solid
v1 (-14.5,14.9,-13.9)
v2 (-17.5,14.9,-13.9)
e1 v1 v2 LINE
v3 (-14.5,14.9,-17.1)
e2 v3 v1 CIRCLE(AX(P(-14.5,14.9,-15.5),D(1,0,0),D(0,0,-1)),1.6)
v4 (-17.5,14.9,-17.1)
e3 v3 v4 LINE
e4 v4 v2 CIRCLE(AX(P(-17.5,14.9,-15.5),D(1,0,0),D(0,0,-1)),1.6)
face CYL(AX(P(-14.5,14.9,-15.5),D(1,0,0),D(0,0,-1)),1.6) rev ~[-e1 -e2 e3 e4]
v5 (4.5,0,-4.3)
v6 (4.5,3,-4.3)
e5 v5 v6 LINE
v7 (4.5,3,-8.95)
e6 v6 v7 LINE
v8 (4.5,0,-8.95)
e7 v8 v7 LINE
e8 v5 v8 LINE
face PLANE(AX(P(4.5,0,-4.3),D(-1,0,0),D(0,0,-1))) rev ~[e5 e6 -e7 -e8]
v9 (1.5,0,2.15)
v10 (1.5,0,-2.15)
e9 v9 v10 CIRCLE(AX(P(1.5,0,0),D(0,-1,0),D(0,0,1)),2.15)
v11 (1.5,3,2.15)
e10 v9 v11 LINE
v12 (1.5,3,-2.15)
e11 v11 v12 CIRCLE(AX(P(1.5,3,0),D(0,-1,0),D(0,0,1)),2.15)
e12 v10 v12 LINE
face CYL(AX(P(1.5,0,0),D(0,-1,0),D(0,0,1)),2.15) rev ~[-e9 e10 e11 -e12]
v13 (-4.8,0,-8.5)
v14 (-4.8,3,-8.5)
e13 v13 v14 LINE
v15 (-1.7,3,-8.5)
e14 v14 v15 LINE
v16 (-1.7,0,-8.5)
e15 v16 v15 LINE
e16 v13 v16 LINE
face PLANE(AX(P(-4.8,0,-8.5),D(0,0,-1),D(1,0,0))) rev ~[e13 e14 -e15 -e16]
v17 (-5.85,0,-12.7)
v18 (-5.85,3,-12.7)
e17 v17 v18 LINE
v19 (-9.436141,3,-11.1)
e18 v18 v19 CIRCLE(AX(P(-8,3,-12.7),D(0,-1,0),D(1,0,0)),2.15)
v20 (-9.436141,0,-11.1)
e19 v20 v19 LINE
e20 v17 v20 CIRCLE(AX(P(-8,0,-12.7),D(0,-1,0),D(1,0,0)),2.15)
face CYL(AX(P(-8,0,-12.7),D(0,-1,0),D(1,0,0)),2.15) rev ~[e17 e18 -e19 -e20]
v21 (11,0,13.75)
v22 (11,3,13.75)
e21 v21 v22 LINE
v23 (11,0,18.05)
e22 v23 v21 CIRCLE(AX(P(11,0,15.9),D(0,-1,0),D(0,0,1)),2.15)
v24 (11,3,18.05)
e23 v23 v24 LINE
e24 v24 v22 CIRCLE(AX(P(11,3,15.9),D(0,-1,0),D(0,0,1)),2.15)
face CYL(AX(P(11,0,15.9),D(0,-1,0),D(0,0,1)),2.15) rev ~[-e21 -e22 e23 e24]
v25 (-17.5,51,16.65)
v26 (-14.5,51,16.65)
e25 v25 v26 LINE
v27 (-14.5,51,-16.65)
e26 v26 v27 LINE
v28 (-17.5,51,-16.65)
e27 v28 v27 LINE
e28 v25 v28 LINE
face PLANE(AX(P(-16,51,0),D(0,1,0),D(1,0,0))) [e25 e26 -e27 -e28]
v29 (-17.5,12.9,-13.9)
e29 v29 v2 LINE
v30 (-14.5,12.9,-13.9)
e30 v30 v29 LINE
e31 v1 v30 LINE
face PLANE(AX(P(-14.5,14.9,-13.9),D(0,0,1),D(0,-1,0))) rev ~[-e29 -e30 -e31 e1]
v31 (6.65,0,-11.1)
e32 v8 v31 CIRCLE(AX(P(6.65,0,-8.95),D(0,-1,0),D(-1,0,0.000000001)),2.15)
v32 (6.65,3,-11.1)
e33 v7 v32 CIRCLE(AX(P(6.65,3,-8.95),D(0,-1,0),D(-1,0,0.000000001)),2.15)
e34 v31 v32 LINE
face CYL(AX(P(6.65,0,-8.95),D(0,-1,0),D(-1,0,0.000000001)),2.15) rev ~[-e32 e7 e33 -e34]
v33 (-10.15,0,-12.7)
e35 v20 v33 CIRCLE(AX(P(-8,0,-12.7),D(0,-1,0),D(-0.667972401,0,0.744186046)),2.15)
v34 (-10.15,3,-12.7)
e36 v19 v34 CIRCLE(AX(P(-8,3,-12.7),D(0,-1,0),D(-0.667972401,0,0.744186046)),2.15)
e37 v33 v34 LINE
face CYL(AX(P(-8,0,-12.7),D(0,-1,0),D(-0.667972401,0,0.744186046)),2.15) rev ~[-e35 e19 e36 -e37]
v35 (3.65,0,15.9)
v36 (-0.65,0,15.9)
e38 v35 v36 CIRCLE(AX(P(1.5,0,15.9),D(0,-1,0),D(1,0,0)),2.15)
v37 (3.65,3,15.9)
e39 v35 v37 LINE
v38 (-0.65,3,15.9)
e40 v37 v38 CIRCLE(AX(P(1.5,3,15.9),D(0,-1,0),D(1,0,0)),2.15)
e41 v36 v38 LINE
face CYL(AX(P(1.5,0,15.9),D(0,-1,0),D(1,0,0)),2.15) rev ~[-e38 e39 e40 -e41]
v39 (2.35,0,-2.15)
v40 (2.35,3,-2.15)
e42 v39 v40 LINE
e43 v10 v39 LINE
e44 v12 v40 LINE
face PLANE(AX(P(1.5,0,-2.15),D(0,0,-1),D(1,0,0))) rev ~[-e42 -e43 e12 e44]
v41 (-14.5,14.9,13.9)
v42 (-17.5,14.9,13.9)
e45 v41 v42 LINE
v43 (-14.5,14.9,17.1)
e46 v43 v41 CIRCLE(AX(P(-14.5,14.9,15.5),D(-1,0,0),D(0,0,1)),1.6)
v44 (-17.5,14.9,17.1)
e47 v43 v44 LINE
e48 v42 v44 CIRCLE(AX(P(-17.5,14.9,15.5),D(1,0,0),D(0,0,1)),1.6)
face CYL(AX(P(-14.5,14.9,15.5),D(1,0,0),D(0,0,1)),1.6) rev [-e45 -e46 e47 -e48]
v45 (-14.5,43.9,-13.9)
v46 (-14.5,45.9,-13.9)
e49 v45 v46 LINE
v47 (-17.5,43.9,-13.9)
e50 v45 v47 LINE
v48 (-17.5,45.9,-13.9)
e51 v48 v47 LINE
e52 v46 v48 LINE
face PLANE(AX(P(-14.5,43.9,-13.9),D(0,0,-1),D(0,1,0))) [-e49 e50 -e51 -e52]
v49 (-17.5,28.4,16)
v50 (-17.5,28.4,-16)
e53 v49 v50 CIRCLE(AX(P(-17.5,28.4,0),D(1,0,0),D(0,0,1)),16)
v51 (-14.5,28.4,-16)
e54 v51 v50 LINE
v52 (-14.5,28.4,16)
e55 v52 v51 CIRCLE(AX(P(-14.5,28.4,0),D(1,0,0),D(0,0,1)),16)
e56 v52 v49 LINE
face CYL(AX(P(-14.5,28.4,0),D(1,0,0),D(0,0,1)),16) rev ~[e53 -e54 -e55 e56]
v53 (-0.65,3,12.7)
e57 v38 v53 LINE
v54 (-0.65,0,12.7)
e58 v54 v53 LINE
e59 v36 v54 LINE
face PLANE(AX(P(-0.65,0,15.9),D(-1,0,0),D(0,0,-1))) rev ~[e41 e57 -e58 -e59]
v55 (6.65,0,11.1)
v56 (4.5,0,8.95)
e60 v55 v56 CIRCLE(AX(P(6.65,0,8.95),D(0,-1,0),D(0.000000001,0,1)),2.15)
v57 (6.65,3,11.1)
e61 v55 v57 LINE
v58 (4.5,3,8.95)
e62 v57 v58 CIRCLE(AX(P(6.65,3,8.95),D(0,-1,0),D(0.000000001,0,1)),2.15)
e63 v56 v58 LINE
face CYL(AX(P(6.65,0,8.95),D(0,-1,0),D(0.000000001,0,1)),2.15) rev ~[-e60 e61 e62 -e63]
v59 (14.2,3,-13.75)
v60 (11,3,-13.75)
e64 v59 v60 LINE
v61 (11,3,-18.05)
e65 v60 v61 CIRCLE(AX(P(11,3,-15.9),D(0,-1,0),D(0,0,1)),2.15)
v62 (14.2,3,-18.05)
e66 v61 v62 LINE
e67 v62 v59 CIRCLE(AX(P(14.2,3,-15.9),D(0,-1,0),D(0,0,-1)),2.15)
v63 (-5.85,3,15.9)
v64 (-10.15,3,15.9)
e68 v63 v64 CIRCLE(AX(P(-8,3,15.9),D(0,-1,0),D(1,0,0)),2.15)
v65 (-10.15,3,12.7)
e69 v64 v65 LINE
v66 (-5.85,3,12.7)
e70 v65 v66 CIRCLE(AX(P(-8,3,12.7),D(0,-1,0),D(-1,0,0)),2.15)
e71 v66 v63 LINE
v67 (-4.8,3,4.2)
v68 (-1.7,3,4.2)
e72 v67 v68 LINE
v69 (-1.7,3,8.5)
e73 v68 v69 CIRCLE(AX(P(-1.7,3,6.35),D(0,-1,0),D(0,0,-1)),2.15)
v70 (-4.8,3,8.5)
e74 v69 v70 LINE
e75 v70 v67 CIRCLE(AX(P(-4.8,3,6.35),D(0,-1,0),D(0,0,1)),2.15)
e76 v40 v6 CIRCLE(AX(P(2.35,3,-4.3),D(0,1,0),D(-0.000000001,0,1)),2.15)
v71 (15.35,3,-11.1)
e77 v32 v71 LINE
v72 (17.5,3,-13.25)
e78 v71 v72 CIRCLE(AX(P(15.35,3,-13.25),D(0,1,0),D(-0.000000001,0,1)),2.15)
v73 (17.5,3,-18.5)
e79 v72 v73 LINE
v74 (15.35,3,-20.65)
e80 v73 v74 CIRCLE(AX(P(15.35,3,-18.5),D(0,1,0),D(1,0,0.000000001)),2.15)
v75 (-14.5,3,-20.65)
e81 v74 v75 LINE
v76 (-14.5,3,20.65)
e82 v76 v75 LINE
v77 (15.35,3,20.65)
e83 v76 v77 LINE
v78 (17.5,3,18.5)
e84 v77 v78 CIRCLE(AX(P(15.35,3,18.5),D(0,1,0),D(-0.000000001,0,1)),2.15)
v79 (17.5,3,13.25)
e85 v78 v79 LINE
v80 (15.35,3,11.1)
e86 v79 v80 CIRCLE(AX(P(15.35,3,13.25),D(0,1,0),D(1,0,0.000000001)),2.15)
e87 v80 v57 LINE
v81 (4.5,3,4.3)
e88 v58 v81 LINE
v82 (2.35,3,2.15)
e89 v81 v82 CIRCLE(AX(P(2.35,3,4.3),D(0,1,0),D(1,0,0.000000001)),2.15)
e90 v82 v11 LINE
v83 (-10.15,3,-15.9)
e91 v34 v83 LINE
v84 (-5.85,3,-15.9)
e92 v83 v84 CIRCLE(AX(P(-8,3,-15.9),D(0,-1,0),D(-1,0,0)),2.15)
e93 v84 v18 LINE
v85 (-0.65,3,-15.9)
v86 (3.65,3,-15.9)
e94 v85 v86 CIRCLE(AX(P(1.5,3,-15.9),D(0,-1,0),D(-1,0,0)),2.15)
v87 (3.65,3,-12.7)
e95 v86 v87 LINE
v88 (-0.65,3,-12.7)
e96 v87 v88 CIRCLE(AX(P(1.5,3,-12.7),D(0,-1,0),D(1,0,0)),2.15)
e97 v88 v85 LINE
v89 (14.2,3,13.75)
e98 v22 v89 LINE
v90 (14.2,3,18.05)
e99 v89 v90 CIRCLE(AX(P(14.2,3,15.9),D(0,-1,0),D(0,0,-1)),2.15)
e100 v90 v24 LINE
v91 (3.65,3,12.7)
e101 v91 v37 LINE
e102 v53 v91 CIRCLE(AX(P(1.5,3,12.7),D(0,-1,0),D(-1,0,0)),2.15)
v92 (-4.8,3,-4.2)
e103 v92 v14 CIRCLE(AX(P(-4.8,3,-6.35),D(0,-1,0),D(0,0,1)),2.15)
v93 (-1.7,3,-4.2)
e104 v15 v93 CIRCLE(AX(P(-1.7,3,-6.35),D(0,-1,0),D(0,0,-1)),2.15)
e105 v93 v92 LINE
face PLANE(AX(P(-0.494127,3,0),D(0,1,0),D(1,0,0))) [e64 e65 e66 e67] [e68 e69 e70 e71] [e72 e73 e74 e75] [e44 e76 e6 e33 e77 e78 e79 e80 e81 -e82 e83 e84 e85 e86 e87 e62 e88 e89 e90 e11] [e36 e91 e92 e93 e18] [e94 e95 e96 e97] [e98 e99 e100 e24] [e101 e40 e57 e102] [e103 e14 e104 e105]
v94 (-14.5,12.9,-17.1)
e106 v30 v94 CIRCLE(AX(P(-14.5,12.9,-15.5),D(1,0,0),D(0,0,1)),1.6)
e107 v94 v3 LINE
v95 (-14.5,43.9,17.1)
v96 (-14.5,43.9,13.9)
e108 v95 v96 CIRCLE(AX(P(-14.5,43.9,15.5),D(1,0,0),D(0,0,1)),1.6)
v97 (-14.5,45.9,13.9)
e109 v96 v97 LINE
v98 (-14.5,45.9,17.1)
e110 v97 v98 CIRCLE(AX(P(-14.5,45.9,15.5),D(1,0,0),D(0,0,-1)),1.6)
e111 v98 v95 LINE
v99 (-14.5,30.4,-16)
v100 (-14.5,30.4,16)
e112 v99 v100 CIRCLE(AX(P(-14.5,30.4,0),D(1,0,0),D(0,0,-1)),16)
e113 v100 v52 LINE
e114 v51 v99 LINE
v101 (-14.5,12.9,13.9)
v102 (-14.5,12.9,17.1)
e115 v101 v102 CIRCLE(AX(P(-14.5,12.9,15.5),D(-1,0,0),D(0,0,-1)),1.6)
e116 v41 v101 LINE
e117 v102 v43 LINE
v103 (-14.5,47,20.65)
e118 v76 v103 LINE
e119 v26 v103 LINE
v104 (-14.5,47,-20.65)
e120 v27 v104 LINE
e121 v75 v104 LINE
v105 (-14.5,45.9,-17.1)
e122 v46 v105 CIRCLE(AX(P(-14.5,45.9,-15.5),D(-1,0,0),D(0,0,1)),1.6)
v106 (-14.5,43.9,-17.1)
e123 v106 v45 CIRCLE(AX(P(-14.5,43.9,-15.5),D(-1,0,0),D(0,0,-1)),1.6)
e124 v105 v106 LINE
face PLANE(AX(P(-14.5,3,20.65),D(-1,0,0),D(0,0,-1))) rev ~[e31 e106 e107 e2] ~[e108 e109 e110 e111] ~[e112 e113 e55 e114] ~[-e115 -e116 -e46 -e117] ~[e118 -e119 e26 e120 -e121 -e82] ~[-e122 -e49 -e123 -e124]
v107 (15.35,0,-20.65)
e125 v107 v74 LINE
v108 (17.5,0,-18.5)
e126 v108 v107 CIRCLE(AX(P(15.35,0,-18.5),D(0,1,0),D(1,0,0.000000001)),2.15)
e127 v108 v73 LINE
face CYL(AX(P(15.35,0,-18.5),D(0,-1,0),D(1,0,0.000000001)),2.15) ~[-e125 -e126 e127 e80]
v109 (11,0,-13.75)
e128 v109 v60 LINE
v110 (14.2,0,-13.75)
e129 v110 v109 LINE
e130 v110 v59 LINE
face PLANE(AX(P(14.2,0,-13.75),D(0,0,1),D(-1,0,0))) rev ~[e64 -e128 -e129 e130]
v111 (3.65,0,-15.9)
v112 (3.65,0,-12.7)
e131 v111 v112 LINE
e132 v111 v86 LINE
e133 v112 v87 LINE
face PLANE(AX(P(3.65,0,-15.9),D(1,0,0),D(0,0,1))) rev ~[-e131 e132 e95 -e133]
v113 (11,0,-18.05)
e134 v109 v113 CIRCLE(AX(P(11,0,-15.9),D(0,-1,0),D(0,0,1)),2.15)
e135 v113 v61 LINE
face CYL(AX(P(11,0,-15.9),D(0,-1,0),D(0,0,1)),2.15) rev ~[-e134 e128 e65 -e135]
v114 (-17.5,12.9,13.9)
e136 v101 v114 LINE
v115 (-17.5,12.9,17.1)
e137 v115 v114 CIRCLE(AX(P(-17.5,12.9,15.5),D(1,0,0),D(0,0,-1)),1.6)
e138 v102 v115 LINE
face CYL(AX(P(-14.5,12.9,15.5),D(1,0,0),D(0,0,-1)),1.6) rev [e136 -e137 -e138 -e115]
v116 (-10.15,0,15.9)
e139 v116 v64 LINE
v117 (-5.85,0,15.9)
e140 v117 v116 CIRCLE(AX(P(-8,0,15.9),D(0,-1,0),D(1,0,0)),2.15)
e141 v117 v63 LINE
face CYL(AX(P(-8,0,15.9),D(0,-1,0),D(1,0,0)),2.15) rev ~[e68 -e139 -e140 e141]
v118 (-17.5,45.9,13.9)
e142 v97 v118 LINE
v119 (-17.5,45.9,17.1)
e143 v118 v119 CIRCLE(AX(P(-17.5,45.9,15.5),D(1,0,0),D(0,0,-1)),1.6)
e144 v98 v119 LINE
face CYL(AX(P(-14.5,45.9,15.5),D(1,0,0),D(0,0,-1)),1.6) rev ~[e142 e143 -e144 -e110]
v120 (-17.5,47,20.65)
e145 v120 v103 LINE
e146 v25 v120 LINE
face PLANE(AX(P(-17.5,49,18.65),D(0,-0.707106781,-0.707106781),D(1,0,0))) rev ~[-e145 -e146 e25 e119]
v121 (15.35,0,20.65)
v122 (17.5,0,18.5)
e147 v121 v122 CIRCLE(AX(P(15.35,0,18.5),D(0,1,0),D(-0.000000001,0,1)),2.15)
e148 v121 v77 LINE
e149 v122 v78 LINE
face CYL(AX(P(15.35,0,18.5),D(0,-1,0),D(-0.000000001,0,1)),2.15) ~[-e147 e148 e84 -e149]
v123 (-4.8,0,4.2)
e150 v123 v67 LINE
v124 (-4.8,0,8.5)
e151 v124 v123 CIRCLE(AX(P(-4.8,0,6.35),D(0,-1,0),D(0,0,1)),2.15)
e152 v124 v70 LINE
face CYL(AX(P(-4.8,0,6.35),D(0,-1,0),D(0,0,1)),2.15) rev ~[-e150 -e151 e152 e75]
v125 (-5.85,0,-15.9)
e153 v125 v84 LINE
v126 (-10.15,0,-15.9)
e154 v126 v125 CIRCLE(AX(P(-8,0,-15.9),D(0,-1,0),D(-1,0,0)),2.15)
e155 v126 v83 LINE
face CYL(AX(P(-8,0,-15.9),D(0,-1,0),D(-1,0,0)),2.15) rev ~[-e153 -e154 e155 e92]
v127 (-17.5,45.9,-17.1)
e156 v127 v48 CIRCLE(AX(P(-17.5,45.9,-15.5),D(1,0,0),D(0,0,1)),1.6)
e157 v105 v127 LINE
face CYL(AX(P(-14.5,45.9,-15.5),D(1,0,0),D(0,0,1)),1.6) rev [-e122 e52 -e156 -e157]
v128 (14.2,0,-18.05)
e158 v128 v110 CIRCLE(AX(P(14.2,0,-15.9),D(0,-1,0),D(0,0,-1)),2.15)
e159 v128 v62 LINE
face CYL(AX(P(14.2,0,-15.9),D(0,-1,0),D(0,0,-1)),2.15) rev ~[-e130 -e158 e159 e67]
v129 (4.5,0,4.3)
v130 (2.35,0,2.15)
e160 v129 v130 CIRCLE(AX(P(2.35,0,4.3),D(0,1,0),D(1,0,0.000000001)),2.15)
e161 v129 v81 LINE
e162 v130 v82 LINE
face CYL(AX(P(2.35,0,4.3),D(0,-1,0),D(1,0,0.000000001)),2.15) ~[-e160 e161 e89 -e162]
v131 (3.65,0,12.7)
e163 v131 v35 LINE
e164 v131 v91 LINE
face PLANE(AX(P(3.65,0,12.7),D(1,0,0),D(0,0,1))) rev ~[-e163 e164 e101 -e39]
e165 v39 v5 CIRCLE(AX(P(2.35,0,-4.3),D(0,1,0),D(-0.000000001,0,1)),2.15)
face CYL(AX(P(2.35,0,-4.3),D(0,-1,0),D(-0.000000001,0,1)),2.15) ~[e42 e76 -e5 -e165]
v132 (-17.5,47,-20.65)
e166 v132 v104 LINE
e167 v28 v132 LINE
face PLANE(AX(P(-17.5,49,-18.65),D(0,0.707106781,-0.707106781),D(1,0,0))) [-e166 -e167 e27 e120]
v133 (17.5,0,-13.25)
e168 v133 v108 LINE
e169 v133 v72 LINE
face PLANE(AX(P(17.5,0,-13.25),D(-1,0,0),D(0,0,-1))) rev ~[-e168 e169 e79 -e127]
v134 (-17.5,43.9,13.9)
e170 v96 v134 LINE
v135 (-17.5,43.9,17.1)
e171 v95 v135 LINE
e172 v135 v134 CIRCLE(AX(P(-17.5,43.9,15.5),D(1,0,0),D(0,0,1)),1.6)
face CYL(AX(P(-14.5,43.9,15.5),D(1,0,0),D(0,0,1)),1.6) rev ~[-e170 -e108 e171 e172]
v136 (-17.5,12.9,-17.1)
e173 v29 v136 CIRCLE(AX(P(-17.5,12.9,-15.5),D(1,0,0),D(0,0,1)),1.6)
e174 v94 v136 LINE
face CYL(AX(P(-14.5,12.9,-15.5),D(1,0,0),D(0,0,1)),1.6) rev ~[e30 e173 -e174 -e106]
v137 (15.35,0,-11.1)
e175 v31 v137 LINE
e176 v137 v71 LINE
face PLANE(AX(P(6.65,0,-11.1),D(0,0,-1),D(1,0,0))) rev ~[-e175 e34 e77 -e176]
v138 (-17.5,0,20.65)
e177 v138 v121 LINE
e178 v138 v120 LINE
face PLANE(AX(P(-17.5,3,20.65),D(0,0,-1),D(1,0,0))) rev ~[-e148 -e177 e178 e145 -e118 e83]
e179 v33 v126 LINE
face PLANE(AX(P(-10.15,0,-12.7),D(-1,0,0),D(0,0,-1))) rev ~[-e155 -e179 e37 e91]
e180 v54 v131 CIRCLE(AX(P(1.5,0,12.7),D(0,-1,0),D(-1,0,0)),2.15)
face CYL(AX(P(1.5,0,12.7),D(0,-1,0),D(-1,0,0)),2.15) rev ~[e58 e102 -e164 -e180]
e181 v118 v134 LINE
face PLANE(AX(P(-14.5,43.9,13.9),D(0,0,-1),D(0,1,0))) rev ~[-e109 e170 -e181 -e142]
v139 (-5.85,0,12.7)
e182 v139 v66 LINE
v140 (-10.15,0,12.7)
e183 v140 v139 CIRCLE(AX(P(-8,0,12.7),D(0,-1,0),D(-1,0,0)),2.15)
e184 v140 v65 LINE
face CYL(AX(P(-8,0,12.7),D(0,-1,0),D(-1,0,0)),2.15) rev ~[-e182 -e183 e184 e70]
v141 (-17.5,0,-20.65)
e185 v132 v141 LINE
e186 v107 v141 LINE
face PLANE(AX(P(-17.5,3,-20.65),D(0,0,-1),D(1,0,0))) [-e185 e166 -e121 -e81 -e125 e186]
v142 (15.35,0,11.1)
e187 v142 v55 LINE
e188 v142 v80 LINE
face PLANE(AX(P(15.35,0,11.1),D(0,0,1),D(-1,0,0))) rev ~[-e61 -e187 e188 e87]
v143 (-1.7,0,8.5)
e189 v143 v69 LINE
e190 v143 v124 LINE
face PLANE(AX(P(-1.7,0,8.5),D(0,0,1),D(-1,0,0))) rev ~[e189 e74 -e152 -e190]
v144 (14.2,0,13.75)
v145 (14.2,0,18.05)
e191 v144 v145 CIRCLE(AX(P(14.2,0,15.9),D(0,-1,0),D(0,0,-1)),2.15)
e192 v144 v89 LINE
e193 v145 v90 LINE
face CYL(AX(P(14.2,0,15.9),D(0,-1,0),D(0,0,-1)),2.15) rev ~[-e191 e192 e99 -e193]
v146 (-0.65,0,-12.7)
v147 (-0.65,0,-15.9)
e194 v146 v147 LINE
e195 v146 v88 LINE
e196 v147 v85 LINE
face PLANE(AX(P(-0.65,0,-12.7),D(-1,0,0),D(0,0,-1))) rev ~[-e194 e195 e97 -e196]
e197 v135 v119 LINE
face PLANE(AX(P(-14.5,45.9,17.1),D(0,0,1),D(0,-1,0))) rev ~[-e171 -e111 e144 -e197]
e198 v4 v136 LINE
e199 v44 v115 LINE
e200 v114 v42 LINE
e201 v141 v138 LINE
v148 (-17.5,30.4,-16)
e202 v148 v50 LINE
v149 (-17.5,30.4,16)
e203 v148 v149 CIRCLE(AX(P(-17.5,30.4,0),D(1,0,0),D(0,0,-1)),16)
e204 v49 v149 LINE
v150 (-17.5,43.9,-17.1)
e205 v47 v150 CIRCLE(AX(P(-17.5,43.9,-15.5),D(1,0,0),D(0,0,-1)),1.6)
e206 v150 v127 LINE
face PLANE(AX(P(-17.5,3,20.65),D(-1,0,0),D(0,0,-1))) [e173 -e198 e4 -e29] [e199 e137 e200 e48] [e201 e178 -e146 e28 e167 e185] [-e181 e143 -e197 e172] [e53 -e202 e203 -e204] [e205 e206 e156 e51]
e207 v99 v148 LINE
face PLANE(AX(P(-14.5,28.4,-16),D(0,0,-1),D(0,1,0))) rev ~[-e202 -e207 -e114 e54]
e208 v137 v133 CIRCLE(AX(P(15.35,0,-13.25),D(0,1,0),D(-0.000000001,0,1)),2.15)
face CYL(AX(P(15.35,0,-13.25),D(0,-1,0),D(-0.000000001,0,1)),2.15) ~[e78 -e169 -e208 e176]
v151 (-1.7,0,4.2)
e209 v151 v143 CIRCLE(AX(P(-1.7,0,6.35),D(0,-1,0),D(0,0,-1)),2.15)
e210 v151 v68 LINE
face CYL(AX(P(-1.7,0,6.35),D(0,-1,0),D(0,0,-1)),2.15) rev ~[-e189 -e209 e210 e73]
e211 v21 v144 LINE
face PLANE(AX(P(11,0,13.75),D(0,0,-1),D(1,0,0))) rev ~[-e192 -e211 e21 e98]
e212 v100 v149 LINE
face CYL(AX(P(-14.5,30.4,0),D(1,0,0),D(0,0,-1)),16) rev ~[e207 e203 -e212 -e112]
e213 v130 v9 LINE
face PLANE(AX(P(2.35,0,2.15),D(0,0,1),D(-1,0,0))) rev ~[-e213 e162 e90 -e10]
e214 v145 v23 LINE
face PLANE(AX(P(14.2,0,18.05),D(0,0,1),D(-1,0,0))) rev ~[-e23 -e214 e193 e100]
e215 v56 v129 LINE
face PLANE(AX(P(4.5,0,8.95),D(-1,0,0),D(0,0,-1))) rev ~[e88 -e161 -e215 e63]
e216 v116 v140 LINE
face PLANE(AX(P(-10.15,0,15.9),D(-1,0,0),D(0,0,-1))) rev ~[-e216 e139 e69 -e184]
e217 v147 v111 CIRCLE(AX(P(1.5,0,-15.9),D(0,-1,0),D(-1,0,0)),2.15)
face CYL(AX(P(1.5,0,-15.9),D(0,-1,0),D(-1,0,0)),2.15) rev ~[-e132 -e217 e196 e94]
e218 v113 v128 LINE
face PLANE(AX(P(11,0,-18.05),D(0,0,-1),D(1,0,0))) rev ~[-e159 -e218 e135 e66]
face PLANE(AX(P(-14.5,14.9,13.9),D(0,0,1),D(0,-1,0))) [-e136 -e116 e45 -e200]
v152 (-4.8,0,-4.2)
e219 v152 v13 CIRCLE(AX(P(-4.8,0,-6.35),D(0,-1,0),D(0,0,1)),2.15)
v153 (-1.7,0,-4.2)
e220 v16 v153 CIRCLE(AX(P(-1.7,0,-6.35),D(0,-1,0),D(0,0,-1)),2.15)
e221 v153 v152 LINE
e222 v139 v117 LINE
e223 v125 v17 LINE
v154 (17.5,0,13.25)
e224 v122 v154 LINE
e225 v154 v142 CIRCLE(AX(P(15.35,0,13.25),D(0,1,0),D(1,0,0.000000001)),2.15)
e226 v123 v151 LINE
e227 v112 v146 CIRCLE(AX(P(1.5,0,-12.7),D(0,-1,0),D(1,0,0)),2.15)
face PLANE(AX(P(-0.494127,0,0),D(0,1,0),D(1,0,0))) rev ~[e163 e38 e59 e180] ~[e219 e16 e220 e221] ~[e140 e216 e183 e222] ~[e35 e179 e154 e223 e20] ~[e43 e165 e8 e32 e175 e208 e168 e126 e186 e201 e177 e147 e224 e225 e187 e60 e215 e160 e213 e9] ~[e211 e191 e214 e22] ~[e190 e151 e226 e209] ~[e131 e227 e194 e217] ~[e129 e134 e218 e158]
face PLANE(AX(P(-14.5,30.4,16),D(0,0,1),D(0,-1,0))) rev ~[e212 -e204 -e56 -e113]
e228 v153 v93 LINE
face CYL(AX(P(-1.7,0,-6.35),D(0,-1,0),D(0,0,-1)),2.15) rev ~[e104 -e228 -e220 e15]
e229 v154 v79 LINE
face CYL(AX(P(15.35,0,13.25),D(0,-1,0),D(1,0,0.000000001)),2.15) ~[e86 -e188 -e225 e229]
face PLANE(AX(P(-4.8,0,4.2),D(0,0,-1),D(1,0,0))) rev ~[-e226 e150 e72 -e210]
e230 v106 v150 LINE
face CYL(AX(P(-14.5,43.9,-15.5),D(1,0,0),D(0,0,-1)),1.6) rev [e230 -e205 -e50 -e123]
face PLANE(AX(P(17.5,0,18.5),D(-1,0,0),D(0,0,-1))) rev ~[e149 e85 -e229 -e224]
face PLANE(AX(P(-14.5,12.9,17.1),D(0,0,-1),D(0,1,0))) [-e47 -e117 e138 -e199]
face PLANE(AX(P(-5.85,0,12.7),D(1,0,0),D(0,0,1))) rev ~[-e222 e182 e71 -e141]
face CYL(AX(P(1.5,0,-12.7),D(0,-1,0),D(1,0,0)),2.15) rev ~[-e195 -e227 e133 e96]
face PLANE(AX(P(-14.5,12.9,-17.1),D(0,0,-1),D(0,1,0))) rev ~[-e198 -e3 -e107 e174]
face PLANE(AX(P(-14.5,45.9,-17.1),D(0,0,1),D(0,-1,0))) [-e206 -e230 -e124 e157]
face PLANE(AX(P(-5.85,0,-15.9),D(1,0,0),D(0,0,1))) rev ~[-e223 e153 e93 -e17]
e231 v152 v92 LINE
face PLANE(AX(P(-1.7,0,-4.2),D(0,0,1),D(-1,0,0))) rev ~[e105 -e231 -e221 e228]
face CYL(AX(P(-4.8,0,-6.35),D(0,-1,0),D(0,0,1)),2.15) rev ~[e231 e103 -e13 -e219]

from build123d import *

# Parameters (mm, degrees)
BOSS_EXTRUDE1_DEPTH = 3
SKETCH2_W           = 3
SKETCH2_H           = 41.3
BOSS_EXTRUDE2_DEPTH = 48
CUT_EXTRUDE1_DEPTH  = 48
CHAMFER1_SIZE       = 4


with BuildPart() as part:
    # Sketch1 → Boss-Extrude1 (new body)
    with BuildSketch(Plane(origin=(0, 0, 0), x_dir=(1, 0, 0), z_dir=(0, 1, 0))):
        with BuildLine():
            Line((15.35, 20.65), (-17.5, 20.65))
            Line((-17.5, 20.65), (-17.5, -20.65))
            Line((-17.5, -20.65), (15.35, -20.65))
            ThreePointArc((15.35, -20.65), (16.87027958, -20.02027958), (17.5, -18.5))
            Line((17.5, -18.5), (17.5, -13.25))
            ThreePointArc((17.5, -13.25), (16.87027958, -11.72972042), (15.35, -11.1))
            Line((15.35, -11.1), (6.65, -11.1))
            ThreePointArc((6.65, -11.1), (5.12972042, -10.47027958), (4.5, -8.95))
            Line((4.5, -8.95), (4.5, -4.3))
            ThreePointArc((4.5, -4.3), (3.87027958, -2.77972042), (2.35, -2.15))
            Line((2.35, -2.15), (1.5, -2.15))
            ThreePointArc((1.5, -2.15), (-0.65, 0), (1.5, 2.15))
            Line((1.5, 2.15), (2.35, 2.15))
            ThreePointArc((2.35, 2.15), (3.87027958, 2.77972042), (4.5, 4.3))
            Line((4.5, 4.3), (4.5, 8.95))
            ThreePointArc((4.5, 8.95), (5.12972042, 10.47027958), (6.65, 11.1))
            Line((6.65, 11.1), (15.35, 11.1))
            ThreePointArc((15.35, 11.1), (16.87027958, 11.72972042), (17.5, 13.25))
            Line((17.5, 13.25), (17.5, 18.5))
            ThreePointArc((17.5, 18.5), (16.87027958, 20.02027958), (15.35, 20.65))
        make_face()
        with BuildLine():
            Line((-5.85, -12.7), (-5.85, -15.9))
            ThreePointArc((-5.85, -15.9), (-8, -18.05), (-10.15, -15.9))
            Line((-10.15, -15.9), (-10.15, -12.7))
            ThreePointArc((-10.15, -12.7), (-8, -10.55), (-5.85, -12.7))
        make_face(mode=Mode.SUBTRACT)
        with BuildLine():
            Line((-1.7, -8.5), (-4.8, -8.5))
            ThreePointArc((-4.8, -8.5), (-6.95, -6.35), (-4.8, -4.2))
            Line((-4.8, -4.2), (-1.7, -4.2))
            ThreePointArc((-1.7, -4.2), (0.45, -6.35), (-1.7, -8.5))
        make_face(mode=Mode.SUBTRACT)
        with BuildLine():
            Line((3.65, -12.7), (3.65, -15.9))
            ThreePointArc((3.65, -15.9), (1.5, -18.05), (-0.65, -15.9))
            Line((-0.65, -15.9), (-0.65, -12.7))
            ThreePointArc((-0.65, -12.7), (1.5, -10.55), (3.65, -12.7))
        make_face(mode=Mode.SUBTRACT)
        with BuildLine():
            Line((14.2, -18.05), (11, -18.05))
            ThreePointArc((11, -18.05), (8.85, -15.9), (11, -13.75))
            Line((11, -13.75), (14.2, -13.75))
            ThreePointArc((14.2, -13.75), (16.35, -15.9), (14.2, -18.05))
        make_face(mode=Mode.SUBTRACT)
        with BuildLine():
            ThreePointArc((-4.8, 4.2), (-6.95, 6.35), (-4.8, 8.5))
            Line((-4.8, 8.5), (-1.7, 8.5))
            ThreePointArc((-1.7, 8.5), (0.45, 6.35), (-1.7, 4.2))
            Line((-1.7, 4.2), (-4.8, 4.2))
        make_face(mode=Mode.SUBTRACT)
        with BuildLine():
            ThreePointArc((-10.15, 15.9), (-8, 18.05), (-5.85, 15.9))
            Line((-5.85, 15.9), (-5.85, 12.7))
            ThreePointArc((-5.85, 12.7), (-7.123986993, 10.736558834), (-9.436140662, 11.1))
            ThreePointArc((-9.436140662, 11.1), (-9.963441166, 11.823986993), (-10.15, 12.7))
            Line((-10.15, 12.7), (-10.15, 15.9))
        make_face(mode=Mode.SUBTRACT)
        with BuildLine():
            ThreePointArc((-0.65, 15.9), (1.5, 18.05), (3.65, 15.9))
            Line((3.65, 15.9), (3.65, 12.7))
            ThreePointArc((3.65, 12.7), (1.5, 10.55), (-0.65, 12.7))
            Line((-0.65, 12.7), (-0.65, 15.9))
        make_face(mode=Mode.SUBTRACT)
        with BuildLine():
            ThreePointArc((11, 13.75), (8.85, 15.9), (11, 18.05))
            Line((11, 18.05), (14.2, 18.05))
            ThreePointArc((14.2, 18.05), (16.35, 15.9), (14.2, 13.75))
            Line((14.2, 13.75), (11, 13.75))
        make_face(mode=Mode.SUBTRACT)
    extrude(amount=BOSS_EXTRUDE1_DEPTH)

    # Sketch2 → Boss-Extrude2 (add)
    with BuildSketch(Plane(origin=(0, 3, 0), x_dir=(1, 0, 0), z_dir=(0, 1, 0))):
        with Locations((-16, 0)):
            Rectangle(SKETCH2_W, SKETCH2_H)
    extrude(amount=BOSS_EXTRUDE2_DEPTH)

    # Sketch3 → Cut-Extrude1 (cut)
    with BuildSketch(Plane(origin=(-14.5, 0, 0), x_dir=(0, 0, -1), z_dir=(1, 0, 0))):
        with BuildLine():
            Line((-16, 30.4), (-16, 28.4))
            ThreePointArc((-16, 28.4), (0, 12.4), (16, 28.4))
            Line((16, 28.4), (16, 30.4))
            ThreePointArc((16, 30.4), (0, 46.4), (-16, 30.4))
        make_face()
        with BuildLine():
            Line((17.1, 45.9), (17.1, 43.9))
            ThreePointArc((17.1, 43.9), (15.5, 42.3), (13.9, 43.9))
            Line((13.9, 43.9), (13.9, 45.9))
            ThreePointArc((13.9, 45.9), (15.5, 47.5), (17.1, 45.9))
        make_face()
        with BuildLine():
            Line((-17.1, 45.9), (-17.1, 43.9))
            ThreePointArc((-17.1, 43.9), (-15.5, 42.3), (-13.9, 43.9))
            Line((-13.9, 43.9), (-13.9, 45.9))
            ThreePointArc((-13.9, 45.9), (-15.5, 47.5), (-17.1, 45.9))
        make_face()
        with BuildLine():
            Line((17.1, 12.9), (17.1, 14.9))
            ThreePointArc((17.1, 14.9), (15.5, 16.5), (13.9, 14.9))
            Line((13.9, 14.9), (13.9, 12.9))
            ThreePointArc((13.9, 12.9), (15.5, 11.3), (17.1, 12.9))
        make_face()
        with BuildLine():
            Line((-17.1, 12.9), (-17.1, 14.9))
            ThreePointArc((-17.1, 14.9), (-15.5, 16.5), (-13.9, 14.9))
            Line((-13.9, 14.9), (-13.9, 12.9))
            ThreePointArc((-13.9, 12.9), (-15.5, 11.3), (-17.1, 12.9))
        make_face()
    extrude(amount=-CUT_EXTRUDE1_DEPTH, mode=Mode.SUBTRACT)

    # Chamfer1
    chamfer1_edges = [part.edges().sort_by_distance(p)[0] for p in [
        (-16, 51, 20.65),
        (-16, 51, -20.65),
    ]]
    chamfer(chamfer1_edges, length=CHAMFER1_SIZE)


solid = part.part
